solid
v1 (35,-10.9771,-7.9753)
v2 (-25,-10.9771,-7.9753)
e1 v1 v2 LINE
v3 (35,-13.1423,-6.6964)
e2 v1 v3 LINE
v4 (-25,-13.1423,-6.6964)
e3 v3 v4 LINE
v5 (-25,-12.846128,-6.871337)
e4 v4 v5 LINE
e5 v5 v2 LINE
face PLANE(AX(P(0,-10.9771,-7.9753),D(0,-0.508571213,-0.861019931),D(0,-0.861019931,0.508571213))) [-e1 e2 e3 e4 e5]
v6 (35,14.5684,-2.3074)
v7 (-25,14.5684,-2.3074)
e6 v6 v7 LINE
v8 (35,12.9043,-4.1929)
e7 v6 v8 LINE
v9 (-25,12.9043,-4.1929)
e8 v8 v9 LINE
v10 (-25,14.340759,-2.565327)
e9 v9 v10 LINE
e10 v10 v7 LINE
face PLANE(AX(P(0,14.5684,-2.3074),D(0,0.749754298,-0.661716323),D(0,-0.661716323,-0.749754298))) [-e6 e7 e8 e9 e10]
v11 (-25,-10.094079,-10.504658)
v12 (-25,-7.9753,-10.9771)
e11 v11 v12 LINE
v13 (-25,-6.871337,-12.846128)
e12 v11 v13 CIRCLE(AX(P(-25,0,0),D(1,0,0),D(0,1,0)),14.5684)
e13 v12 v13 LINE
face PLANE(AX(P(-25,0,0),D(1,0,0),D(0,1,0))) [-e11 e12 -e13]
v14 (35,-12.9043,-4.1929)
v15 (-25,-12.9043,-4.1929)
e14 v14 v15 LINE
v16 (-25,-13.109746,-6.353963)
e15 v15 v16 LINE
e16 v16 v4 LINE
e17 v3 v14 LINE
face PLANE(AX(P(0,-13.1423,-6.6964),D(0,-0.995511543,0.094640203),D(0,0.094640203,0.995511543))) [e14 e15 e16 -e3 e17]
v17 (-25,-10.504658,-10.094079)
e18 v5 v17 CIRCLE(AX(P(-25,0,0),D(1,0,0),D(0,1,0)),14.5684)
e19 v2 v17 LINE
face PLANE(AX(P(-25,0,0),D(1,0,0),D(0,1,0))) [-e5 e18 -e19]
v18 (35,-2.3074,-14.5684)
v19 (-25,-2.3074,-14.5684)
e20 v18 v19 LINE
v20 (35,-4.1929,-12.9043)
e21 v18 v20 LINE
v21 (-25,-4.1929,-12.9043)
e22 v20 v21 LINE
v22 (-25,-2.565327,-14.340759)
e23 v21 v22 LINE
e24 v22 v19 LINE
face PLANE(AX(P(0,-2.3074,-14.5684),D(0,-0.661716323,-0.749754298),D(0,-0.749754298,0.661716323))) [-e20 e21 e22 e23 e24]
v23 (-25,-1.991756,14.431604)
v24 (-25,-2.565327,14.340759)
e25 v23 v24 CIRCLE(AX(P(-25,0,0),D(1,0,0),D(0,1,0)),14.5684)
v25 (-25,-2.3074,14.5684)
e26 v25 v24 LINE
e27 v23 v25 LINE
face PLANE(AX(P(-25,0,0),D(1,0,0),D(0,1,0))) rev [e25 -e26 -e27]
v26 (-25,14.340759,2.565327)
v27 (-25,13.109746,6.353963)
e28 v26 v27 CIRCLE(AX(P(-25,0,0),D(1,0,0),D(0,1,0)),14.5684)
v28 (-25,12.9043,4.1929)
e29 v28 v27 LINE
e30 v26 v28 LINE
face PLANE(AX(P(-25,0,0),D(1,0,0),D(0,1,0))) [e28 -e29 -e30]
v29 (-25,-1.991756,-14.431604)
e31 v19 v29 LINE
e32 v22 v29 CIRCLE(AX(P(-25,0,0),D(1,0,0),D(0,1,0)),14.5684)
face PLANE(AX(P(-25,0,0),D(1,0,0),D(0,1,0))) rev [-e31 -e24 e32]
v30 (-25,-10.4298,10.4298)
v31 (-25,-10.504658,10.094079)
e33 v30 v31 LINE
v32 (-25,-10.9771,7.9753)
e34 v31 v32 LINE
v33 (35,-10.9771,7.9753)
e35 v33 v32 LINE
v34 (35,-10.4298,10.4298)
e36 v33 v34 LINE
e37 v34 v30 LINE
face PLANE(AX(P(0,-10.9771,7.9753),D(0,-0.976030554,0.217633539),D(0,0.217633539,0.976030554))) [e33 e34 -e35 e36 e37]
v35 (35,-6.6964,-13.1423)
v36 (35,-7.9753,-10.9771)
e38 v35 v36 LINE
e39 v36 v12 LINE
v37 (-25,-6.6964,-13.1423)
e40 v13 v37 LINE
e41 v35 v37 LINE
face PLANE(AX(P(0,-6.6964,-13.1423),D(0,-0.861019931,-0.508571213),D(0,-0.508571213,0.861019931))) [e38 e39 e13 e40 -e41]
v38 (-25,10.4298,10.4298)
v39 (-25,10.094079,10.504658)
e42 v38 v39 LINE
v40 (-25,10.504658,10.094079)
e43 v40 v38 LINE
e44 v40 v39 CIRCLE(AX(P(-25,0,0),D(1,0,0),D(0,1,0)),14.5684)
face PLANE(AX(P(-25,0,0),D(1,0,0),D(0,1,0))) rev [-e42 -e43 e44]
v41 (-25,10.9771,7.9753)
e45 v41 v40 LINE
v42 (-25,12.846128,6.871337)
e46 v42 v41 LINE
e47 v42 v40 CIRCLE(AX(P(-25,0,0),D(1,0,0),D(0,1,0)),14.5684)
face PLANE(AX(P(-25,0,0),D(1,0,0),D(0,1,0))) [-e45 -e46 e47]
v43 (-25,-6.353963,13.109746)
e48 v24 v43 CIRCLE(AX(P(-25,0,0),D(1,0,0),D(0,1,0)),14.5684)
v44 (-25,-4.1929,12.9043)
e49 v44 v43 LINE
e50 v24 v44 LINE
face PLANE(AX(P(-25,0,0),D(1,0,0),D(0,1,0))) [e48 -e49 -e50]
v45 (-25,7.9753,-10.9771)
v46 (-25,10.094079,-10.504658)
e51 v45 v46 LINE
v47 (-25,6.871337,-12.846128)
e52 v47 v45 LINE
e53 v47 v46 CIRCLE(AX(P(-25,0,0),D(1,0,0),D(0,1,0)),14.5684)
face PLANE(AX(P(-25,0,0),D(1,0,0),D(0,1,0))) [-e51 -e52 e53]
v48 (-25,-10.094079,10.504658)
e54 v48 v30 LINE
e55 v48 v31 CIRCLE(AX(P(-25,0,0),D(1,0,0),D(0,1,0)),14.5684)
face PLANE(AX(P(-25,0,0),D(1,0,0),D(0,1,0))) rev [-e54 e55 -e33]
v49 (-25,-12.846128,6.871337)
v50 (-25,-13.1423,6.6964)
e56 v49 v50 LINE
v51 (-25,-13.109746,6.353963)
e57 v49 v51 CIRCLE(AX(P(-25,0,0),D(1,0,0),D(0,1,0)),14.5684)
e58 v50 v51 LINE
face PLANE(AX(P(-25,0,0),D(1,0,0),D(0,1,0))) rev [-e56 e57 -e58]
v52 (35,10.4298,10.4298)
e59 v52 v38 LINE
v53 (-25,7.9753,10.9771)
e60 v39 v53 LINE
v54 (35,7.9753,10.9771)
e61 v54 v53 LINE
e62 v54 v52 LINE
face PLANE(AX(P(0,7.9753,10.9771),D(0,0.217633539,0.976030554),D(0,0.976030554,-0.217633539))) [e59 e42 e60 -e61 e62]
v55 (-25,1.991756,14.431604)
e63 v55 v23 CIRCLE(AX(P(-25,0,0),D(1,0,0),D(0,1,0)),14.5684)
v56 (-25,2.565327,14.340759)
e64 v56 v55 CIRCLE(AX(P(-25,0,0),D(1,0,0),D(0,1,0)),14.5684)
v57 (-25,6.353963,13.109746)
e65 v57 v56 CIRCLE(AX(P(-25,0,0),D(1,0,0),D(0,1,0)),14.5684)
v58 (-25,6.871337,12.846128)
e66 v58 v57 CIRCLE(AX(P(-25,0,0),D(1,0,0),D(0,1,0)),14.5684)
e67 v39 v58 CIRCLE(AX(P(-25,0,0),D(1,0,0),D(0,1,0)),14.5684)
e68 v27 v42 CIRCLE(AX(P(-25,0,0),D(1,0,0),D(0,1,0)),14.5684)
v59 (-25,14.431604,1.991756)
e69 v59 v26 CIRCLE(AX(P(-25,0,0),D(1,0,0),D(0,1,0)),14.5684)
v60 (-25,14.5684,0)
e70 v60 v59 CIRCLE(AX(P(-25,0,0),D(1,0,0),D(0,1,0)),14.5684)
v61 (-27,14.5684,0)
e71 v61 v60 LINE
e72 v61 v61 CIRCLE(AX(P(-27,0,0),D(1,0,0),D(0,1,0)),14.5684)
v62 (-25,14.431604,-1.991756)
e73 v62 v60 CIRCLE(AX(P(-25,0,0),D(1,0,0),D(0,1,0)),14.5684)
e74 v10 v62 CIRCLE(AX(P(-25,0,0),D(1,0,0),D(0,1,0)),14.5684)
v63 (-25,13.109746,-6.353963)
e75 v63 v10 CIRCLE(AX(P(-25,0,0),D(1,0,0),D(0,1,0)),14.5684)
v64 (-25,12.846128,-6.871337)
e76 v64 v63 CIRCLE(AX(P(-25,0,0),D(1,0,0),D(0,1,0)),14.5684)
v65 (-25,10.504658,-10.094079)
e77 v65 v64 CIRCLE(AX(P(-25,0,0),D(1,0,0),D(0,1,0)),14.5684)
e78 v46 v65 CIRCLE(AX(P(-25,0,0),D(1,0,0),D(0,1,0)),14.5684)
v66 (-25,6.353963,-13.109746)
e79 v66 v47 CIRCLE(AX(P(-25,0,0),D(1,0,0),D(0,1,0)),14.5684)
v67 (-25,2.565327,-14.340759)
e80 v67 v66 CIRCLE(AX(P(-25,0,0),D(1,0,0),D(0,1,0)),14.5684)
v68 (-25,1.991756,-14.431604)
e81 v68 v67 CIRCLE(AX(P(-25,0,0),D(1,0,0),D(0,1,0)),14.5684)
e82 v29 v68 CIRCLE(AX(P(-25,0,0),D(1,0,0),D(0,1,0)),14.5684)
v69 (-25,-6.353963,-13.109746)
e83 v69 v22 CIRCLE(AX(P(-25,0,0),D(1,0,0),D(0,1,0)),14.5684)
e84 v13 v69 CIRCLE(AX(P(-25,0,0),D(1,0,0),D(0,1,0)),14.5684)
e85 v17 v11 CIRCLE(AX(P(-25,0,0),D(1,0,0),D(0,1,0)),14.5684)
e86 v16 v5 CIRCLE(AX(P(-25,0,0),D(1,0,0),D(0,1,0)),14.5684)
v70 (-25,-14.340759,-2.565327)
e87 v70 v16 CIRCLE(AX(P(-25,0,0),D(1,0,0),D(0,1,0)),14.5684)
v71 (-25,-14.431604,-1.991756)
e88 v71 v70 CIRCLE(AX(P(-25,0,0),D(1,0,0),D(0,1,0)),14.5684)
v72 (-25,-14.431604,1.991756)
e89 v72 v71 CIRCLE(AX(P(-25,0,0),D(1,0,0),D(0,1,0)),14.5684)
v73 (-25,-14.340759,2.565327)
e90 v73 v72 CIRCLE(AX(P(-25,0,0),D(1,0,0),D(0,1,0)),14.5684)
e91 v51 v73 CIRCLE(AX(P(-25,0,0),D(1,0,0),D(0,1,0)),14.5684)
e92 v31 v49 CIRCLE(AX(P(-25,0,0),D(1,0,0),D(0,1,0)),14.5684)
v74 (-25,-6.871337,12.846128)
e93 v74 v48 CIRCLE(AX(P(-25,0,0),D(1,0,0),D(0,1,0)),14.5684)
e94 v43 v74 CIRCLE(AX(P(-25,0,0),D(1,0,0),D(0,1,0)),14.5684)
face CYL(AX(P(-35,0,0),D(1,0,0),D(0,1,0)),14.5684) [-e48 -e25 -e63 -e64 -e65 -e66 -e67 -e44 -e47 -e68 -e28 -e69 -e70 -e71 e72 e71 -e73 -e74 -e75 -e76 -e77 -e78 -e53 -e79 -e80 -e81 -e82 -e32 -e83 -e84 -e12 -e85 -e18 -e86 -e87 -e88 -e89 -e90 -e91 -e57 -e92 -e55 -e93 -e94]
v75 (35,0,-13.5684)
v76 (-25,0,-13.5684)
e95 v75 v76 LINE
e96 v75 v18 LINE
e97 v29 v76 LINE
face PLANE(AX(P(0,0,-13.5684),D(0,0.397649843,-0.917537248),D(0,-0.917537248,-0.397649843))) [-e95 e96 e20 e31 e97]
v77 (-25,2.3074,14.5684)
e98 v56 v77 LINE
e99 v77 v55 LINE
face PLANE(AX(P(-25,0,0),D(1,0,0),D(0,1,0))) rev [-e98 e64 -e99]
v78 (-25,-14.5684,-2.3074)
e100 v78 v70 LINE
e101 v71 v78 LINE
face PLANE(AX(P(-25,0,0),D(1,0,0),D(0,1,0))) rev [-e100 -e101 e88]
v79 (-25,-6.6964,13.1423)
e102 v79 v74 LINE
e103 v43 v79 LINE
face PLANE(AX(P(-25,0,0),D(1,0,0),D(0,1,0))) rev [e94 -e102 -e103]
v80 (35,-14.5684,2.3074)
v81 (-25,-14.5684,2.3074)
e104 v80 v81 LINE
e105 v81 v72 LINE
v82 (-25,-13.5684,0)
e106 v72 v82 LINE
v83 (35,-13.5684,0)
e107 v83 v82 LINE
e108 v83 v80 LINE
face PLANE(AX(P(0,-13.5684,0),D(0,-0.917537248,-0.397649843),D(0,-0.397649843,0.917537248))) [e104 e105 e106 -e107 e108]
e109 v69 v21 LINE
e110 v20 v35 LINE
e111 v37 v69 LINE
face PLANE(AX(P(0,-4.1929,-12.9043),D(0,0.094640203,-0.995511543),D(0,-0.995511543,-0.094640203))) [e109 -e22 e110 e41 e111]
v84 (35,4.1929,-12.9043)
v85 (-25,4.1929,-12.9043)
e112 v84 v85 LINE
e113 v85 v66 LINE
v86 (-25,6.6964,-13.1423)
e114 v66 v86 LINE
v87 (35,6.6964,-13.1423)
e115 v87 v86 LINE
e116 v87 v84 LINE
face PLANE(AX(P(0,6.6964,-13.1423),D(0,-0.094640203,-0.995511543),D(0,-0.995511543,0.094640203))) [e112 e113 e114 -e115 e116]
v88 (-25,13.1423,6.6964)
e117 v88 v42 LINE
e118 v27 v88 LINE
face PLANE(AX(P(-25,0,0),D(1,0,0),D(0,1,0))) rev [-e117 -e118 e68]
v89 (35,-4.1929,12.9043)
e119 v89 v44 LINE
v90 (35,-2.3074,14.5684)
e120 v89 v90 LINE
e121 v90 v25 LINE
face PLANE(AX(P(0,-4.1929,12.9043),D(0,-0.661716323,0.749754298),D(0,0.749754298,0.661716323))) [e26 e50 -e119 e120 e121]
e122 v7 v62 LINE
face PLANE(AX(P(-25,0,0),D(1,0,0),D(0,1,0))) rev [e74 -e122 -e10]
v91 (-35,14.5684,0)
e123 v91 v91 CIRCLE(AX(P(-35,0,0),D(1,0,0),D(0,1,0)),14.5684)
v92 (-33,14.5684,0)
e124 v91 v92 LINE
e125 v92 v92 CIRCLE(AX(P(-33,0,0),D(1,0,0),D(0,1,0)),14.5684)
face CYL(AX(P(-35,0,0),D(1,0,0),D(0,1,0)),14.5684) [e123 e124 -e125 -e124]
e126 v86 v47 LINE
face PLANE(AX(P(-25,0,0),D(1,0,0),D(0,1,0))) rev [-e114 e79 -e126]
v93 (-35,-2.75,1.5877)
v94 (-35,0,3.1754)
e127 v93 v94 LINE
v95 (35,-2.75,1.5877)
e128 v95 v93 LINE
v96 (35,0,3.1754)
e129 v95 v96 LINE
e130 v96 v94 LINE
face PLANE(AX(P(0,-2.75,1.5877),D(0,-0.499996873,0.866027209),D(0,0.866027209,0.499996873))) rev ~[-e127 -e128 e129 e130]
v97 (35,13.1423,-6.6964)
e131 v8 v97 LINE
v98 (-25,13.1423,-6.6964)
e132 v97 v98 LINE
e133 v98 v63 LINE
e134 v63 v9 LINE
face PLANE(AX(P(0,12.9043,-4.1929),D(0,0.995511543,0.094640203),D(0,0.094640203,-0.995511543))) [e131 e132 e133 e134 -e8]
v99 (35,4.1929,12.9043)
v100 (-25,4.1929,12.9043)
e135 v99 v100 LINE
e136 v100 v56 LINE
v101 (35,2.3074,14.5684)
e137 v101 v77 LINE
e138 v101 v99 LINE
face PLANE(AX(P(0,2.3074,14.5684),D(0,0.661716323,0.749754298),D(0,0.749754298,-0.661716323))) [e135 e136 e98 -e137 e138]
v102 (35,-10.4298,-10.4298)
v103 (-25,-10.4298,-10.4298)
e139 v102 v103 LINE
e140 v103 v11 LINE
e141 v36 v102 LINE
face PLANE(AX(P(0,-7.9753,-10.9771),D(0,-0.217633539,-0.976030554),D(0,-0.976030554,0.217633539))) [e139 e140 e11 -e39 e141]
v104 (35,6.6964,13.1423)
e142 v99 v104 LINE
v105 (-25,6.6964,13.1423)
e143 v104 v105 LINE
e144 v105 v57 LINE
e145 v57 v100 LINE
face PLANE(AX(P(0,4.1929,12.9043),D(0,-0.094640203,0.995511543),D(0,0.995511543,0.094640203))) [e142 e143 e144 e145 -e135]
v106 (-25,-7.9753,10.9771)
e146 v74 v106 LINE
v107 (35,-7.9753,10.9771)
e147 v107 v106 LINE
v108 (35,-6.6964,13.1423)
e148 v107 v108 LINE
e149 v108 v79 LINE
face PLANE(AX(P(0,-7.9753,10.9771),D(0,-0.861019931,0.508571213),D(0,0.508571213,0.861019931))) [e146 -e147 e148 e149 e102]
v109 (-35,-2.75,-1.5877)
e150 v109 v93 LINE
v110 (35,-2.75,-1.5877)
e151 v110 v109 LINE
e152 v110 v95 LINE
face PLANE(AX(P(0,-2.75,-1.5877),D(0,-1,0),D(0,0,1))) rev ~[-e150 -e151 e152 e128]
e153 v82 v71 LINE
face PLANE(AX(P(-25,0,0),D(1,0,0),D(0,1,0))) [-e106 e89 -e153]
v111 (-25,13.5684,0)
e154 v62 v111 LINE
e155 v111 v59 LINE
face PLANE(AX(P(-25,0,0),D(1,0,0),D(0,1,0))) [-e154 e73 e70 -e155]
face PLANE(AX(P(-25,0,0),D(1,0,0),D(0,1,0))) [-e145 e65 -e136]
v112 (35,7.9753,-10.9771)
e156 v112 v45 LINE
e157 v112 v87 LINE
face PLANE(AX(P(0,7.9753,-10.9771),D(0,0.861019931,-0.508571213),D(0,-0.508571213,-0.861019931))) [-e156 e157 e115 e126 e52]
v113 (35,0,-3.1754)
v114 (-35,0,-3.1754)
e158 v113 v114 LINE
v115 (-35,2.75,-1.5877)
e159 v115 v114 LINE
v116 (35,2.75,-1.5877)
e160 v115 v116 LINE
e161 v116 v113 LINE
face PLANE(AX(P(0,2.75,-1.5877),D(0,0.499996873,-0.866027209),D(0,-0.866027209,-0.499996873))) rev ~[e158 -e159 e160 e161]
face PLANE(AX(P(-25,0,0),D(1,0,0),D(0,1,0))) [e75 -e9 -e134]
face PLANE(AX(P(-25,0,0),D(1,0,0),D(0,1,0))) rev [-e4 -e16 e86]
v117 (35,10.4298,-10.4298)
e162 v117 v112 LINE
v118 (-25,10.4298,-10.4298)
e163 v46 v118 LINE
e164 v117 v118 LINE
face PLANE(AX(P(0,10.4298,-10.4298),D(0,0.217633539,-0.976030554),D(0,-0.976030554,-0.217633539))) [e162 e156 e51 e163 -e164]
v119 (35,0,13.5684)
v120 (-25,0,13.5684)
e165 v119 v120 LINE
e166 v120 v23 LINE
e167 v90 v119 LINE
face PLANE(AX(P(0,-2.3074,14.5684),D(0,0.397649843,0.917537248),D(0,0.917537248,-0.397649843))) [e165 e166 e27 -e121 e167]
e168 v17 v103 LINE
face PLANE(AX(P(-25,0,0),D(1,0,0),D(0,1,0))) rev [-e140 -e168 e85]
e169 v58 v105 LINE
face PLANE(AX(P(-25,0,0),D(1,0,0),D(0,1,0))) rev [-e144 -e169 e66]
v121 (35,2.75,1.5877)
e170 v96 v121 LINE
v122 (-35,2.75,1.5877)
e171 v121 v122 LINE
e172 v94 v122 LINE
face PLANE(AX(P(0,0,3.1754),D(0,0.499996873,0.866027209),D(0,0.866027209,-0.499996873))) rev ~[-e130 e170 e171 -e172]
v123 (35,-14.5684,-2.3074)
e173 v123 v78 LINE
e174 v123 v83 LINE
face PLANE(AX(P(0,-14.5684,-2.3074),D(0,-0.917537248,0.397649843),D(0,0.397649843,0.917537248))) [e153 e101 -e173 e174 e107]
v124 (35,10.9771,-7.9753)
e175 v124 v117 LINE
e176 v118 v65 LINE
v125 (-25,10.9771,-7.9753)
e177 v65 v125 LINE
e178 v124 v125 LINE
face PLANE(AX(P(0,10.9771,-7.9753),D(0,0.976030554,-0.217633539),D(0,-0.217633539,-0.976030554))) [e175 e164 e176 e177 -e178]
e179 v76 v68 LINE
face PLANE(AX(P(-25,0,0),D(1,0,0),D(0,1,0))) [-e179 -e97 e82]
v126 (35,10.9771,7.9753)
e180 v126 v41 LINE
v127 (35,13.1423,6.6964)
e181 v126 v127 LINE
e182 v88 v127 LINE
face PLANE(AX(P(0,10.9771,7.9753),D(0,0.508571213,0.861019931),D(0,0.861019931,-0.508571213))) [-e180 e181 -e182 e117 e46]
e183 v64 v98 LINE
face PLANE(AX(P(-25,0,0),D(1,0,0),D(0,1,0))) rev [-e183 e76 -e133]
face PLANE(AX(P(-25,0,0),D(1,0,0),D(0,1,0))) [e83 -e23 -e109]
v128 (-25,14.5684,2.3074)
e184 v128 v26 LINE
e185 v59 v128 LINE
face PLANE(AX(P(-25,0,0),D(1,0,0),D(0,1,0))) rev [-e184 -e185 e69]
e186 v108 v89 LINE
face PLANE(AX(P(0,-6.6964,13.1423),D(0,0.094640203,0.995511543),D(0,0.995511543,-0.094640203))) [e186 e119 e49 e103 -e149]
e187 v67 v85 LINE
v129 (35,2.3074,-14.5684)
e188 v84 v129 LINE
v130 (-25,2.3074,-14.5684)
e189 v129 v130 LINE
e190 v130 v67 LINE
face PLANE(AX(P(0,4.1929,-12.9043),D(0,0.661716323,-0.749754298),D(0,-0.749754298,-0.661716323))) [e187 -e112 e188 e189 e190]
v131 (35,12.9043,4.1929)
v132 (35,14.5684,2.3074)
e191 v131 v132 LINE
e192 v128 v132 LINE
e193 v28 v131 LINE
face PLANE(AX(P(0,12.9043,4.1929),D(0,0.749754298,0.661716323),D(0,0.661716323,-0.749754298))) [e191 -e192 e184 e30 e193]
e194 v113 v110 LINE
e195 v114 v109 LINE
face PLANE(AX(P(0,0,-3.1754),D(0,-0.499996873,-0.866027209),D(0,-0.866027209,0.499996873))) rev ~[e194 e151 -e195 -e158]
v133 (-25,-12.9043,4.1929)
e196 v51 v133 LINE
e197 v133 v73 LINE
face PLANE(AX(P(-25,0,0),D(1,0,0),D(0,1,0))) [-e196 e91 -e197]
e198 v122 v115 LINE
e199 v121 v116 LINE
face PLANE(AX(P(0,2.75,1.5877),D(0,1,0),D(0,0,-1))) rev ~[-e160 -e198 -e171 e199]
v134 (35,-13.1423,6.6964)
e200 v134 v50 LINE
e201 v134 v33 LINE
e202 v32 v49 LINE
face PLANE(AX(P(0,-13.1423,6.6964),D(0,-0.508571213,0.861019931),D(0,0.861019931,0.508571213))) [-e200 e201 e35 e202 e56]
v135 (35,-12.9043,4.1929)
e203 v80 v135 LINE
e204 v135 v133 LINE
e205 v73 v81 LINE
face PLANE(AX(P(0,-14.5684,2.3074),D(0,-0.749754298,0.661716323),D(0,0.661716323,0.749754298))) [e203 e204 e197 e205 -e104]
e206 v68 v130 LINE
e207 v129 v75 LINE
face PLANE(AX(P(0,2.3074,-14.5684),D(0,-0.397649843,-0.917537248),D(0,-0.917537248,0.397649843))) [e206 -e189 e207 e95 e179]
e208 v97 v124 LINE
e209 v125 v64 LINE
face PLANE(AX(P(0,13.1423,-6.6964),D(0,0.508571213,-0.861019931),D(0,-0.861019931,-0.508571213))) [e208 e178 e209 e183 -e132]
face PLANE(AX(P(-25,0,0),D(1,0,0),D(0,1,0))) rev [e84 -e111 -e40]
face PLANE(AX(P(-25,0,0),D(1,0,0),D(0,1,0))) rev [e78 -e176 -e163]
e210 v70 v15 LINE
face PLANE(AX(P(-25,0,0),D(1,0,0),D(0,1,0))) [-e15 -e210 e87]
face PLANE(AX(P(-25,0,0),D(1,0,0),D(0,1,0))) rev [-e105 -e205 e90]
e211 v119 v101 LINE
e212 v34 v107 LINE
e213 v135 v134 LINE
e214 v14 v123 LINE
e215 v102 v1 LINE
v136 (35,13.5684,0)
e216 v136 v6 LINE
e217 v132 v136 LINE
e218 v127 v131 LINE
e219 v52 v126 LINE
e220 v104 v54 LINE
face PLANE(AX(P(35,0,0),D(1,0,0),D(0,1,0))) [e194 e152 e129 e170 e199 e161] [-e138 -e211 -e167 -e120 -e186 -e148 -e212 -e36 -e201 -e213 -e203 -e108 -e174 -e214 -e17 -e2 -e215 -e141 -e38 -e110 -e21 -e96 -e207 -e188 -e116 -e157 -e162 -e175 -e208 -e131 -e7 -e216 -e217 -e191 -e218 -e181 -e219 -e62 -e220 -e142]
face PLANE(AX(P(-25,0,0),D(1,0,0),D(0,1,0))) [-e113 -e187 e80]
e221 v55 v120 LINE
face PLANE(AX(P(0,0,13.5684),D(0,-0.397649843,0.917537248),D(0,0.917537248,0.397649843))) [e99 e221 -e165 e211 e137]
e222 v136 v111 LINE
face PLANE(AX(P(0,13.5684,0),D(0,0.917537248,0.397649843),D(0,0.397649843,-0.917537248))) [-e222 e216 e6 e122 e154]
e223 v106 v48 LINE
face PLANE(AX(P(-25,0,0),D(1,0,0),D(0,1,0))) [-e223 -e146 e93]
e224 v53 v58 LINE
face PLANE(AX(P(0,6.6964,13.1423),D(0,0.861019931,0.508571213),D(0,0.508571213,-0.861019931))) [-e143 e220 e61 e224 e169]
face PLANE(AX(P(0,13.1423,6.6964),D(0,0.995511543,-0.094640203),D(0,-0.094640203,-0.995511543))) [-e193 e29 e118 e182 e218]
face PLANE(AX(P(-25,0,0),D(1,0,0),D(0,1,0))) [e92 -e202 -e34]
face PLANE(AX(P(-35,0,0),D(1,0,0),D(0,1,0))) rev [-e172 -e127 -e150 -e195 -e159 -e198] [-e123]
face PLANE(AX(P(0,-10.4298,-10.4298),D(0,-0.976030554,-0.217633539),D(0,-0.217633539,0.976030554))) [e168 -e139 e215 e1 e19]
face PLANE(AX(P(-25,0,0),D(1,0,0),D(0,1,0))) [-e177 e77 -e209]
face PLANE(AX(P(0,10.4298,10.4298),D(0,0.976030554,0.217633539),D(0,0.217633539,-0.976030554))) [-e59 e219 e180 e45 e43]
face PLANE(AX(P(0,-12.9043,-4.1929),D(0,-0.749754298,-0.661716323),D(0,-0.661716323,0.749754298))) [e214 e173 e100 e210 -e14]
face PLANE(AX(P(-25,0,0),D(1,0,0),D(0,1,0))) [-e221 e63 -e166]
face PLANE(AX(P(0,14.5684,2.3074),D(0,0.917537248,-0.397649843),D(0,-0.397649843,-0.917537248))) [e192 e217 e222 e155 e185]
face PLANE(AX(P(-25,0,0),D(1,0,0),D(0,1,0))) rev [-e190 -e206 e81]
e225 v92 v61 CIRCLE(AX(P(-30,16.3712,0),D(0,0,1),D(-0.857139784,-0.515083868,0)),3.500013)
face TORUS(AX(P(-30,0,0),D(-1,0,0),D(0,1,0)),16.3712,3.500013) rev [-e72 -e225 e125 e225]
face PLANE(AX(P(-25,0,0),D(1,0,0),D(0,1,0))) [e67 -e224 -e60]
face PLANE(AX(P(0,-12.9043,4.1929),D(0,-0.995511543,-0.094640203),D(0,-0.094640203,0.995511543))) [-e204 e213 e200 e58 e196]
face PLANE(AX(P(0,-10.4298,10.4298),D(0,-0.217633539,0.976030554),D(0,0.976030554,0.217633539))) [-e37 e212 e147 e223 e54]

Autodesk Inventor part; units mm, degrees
ref_plane "YZ Plane" through (0, 0, 0) normal (1, 0, 0) x (0, 1, 0)
ref_plane "XZ Plane" through (0, 0, 0) normal (0, 1, 0) x (-1, 0, 0)
ref_plane "XY Plane" through (0, 0, 0) normal (0, 0, 1) x (1, 0, 0)
sketch "Sketch1" plane through (0, 0, 0) normal (1, 0, 0) x (0, 1, 0)
  circle A0 centre (0, 0) radius 14.75 construction
  line L0 (2.75, -1.5877) -> (0, -3.1754)
  line L1 (0, -3.1754) -> (-2.75, -1.5877)
  line L2 (-2.75, -1.5877) -> (-2.75, 1.5877)
  line L3 (-2.75, 1.5877) -> (0, 3.1754)
  line L4 (0, 3.1754) -> (2.75, 1.5877)
  line L5 (2.75, 1.5877) -> (2.75, -1.5877)
  line L6 (14.5684, 2.3074) -> (14.5684, -2.3074) construction
  line L7 (14.5684, 2.3074) -> (0, 0) construction
  line L8 (0, 0) -> (14.5684, -2.3074) construction
  line L9 (14.5684, 2.3074) -> (13.5684, 0)
  line L10 (13.5684, 0) -> (14.5684, -2.3074)
  line L11 (13.5684, 0) -> (14.5684, 0) construction
  line L12 (13.1423, 6.6964) -> (12.9043, 4.1929)
  line L13 (12.9043, 4.1929) -> (14.5684, 2.3074)
  line L14 (10.4298, 10.4298) -> (10.9771, 7.9753)
  line L15 (10.9771, 7.9753) -> (13.1423, 6.6964)
  line L16 (6.6964, 13.1423) -> (7.9753, 10.9771)
  line L17 (7.9753, 10.9771) -> (10.4298, 10.4298)
  line L18 (2.3074, 14.5684) -> (4.1929, 12.9043)
  line L19 (4.1929, 12.9043) -> (6.6964, 13.1423)
  line L20 (-2.3074, 14.5684) -> (0, 13.5684)
  line L21 (0, 13.5684) -> (2.3074, 14.5684)
  line L22 (-6.6964, 13.1423) -> (-4.1929, 12.9043)
  line L23 (-4.1929, 12.9043) -> (-2.3074, 14.5684)
  line L24 (-10.4298, 10.4298) -> (-7.9753, 10.9771)
  line L25 (-7.9753, 10.9771) -> (-6.6964, 13.1423)
  line L26 (-13.1423, 6.6964) -> (-10.9771, 7.9753)
  line L27 (-10.9771, 7.9753) -> (-10.4298, 10.4298)
  line L28 (-14.5684, 2.3074) -> (-12.9043, 4.1929)
  line L29 (-12.9043, 4.1929) -> (-13.1423, 6.6964)
  line L30 (-14.5684, -2.3074) -> (-13.5684, 0)
  line L31 (-13.5684, 0) -> (-14.5684, 2.3074)
  line L32 (-13.1423, -6.6964) -> (-12.9043, -4.1929)
  line L33 (-12.9043, -4.1929) -> (-14.5684, -2.3074)
  line L34 (-10.4298, -10.4298) -> (-10.9771, -7.9753)
  line L35 (-10.9771, -7.9753) -> (-13.1423, -6.6964)
  line L36 (-6.6964, -13.1423) -> (-7.9753, -10.9771)
  line L37 (-7.9753, -10.9771) -> (-10.4298, -10.4298)
  line L38 (-2.3074, -14.5684) -> (-4.1929, -12.9043)
  line L39 (-4.1929, -12.9043) -> (-6.6964, -13.1423)
  line L40 (2.3074, -14.5684) -> (0, -13.5684)
  line L41 (0, -13.5684) -> (-2.3074, -14.5684)
  line L42 (6.6964, -13.1423) -> (4.1929, -12.9043)
  line L43 (4.1929, -12.9043) -> (2.3074, -14.5684)
  line L44 (10.4298, -10.4298) -> (7.9753, -10.9771)
  line L45 (7.9753, -10.9771) -> (6.6964, -13.1423)
  line L46 (13.1423, -6.6964) -> (10.9771, -7.9753)
  line L47 (10.9771, -7.9753) -> (10.4298, -10.4298)
  line L48 (14.5684, -2.3074) -> (12.9043, -4.1929)
  line L49 (12.9043, -4.1929) -> (13.1423, -6.6964)
  dimension "d0" = 29.5
  dimension "d1" = 5.5
  dimension "d2" = 18
  dimension "d3" = 1
  dimension "d6" = 360
extrude "Extrusion1" add sketch "Sketch1" along normal mid plane 70
sketch "Sketch2" plane through (0, 0, 0) normal (0, 0, 1) x (1, 0, 0)
  line L0 (-35, 14.5684) -> (35, 14.5684) projected
  line L1 (-35, -14.5684) -> (35, -14.5684) projected
  line L2 (-35, 14.5684) -> (-25, 14.5684)
  line L3 (-25, 14.5684) -> (-25, -14.5684)
  line L4 (-25, -14.5684) -> (-35, -14.5684)
  line L5 (-35, -14.5684) -> (-35, 14.5684)
  line L6 (-35, 4.5684) -> (-25, 4.5684)
  line L7 (-35, 14.5684) -> (-35, 14.5684)
  line L8 (-35, 14.5684) -> (-33, 14.5684)
  line L9 (-25, 14.5684) -> (-25, 14.5684)
  line L10 (-25, 14.5684) -> (-27, 14.5684)
  arc A0 (-33, 14.5684) -> (-27, 14.5684) centre (-30, 16.3712) ccw
  line L11 (-35, 0) -> (35, 0) projected
  line L12 (-35, 0) -> (-25, 0)
  line L13 (-35, 14.5684) -> (-25, 14.5684)
  line L14 (-25, 14.5684) -> (-25, 20.6242)
  line L15 (-25, 20.6242) -> (-35, 20.6242)
  line L16 (-35, 20.6242) -> (-35, 14.5684)
  point P0 (0, 0)
  dimension "d11" = 0
  dimension "d12" = 10
  dimension "d13" = 10
  dimension "d14" = 2
  dimension "d15" = 0
  dimension "d16" = 2
  dimension "d17" = 0
  dimension "d18" = 3.5
revolve "Revolution2" cut sketch "Sketch2" angle 360 about axis through (-35, 0, 0) along (1, 0, 0) contours L16 L15 L14 L0 | L0 A0 L3 L6 L5 | L0 A0
revolve "Revolution1" add sketch "Sketch2" angle 360 about axis through (-35, 0, 0) along (1, 0, 0) contours L0 A0 L3 L6 L5
properties part number "SolidRoller" material "PC/ABS Plastic"
